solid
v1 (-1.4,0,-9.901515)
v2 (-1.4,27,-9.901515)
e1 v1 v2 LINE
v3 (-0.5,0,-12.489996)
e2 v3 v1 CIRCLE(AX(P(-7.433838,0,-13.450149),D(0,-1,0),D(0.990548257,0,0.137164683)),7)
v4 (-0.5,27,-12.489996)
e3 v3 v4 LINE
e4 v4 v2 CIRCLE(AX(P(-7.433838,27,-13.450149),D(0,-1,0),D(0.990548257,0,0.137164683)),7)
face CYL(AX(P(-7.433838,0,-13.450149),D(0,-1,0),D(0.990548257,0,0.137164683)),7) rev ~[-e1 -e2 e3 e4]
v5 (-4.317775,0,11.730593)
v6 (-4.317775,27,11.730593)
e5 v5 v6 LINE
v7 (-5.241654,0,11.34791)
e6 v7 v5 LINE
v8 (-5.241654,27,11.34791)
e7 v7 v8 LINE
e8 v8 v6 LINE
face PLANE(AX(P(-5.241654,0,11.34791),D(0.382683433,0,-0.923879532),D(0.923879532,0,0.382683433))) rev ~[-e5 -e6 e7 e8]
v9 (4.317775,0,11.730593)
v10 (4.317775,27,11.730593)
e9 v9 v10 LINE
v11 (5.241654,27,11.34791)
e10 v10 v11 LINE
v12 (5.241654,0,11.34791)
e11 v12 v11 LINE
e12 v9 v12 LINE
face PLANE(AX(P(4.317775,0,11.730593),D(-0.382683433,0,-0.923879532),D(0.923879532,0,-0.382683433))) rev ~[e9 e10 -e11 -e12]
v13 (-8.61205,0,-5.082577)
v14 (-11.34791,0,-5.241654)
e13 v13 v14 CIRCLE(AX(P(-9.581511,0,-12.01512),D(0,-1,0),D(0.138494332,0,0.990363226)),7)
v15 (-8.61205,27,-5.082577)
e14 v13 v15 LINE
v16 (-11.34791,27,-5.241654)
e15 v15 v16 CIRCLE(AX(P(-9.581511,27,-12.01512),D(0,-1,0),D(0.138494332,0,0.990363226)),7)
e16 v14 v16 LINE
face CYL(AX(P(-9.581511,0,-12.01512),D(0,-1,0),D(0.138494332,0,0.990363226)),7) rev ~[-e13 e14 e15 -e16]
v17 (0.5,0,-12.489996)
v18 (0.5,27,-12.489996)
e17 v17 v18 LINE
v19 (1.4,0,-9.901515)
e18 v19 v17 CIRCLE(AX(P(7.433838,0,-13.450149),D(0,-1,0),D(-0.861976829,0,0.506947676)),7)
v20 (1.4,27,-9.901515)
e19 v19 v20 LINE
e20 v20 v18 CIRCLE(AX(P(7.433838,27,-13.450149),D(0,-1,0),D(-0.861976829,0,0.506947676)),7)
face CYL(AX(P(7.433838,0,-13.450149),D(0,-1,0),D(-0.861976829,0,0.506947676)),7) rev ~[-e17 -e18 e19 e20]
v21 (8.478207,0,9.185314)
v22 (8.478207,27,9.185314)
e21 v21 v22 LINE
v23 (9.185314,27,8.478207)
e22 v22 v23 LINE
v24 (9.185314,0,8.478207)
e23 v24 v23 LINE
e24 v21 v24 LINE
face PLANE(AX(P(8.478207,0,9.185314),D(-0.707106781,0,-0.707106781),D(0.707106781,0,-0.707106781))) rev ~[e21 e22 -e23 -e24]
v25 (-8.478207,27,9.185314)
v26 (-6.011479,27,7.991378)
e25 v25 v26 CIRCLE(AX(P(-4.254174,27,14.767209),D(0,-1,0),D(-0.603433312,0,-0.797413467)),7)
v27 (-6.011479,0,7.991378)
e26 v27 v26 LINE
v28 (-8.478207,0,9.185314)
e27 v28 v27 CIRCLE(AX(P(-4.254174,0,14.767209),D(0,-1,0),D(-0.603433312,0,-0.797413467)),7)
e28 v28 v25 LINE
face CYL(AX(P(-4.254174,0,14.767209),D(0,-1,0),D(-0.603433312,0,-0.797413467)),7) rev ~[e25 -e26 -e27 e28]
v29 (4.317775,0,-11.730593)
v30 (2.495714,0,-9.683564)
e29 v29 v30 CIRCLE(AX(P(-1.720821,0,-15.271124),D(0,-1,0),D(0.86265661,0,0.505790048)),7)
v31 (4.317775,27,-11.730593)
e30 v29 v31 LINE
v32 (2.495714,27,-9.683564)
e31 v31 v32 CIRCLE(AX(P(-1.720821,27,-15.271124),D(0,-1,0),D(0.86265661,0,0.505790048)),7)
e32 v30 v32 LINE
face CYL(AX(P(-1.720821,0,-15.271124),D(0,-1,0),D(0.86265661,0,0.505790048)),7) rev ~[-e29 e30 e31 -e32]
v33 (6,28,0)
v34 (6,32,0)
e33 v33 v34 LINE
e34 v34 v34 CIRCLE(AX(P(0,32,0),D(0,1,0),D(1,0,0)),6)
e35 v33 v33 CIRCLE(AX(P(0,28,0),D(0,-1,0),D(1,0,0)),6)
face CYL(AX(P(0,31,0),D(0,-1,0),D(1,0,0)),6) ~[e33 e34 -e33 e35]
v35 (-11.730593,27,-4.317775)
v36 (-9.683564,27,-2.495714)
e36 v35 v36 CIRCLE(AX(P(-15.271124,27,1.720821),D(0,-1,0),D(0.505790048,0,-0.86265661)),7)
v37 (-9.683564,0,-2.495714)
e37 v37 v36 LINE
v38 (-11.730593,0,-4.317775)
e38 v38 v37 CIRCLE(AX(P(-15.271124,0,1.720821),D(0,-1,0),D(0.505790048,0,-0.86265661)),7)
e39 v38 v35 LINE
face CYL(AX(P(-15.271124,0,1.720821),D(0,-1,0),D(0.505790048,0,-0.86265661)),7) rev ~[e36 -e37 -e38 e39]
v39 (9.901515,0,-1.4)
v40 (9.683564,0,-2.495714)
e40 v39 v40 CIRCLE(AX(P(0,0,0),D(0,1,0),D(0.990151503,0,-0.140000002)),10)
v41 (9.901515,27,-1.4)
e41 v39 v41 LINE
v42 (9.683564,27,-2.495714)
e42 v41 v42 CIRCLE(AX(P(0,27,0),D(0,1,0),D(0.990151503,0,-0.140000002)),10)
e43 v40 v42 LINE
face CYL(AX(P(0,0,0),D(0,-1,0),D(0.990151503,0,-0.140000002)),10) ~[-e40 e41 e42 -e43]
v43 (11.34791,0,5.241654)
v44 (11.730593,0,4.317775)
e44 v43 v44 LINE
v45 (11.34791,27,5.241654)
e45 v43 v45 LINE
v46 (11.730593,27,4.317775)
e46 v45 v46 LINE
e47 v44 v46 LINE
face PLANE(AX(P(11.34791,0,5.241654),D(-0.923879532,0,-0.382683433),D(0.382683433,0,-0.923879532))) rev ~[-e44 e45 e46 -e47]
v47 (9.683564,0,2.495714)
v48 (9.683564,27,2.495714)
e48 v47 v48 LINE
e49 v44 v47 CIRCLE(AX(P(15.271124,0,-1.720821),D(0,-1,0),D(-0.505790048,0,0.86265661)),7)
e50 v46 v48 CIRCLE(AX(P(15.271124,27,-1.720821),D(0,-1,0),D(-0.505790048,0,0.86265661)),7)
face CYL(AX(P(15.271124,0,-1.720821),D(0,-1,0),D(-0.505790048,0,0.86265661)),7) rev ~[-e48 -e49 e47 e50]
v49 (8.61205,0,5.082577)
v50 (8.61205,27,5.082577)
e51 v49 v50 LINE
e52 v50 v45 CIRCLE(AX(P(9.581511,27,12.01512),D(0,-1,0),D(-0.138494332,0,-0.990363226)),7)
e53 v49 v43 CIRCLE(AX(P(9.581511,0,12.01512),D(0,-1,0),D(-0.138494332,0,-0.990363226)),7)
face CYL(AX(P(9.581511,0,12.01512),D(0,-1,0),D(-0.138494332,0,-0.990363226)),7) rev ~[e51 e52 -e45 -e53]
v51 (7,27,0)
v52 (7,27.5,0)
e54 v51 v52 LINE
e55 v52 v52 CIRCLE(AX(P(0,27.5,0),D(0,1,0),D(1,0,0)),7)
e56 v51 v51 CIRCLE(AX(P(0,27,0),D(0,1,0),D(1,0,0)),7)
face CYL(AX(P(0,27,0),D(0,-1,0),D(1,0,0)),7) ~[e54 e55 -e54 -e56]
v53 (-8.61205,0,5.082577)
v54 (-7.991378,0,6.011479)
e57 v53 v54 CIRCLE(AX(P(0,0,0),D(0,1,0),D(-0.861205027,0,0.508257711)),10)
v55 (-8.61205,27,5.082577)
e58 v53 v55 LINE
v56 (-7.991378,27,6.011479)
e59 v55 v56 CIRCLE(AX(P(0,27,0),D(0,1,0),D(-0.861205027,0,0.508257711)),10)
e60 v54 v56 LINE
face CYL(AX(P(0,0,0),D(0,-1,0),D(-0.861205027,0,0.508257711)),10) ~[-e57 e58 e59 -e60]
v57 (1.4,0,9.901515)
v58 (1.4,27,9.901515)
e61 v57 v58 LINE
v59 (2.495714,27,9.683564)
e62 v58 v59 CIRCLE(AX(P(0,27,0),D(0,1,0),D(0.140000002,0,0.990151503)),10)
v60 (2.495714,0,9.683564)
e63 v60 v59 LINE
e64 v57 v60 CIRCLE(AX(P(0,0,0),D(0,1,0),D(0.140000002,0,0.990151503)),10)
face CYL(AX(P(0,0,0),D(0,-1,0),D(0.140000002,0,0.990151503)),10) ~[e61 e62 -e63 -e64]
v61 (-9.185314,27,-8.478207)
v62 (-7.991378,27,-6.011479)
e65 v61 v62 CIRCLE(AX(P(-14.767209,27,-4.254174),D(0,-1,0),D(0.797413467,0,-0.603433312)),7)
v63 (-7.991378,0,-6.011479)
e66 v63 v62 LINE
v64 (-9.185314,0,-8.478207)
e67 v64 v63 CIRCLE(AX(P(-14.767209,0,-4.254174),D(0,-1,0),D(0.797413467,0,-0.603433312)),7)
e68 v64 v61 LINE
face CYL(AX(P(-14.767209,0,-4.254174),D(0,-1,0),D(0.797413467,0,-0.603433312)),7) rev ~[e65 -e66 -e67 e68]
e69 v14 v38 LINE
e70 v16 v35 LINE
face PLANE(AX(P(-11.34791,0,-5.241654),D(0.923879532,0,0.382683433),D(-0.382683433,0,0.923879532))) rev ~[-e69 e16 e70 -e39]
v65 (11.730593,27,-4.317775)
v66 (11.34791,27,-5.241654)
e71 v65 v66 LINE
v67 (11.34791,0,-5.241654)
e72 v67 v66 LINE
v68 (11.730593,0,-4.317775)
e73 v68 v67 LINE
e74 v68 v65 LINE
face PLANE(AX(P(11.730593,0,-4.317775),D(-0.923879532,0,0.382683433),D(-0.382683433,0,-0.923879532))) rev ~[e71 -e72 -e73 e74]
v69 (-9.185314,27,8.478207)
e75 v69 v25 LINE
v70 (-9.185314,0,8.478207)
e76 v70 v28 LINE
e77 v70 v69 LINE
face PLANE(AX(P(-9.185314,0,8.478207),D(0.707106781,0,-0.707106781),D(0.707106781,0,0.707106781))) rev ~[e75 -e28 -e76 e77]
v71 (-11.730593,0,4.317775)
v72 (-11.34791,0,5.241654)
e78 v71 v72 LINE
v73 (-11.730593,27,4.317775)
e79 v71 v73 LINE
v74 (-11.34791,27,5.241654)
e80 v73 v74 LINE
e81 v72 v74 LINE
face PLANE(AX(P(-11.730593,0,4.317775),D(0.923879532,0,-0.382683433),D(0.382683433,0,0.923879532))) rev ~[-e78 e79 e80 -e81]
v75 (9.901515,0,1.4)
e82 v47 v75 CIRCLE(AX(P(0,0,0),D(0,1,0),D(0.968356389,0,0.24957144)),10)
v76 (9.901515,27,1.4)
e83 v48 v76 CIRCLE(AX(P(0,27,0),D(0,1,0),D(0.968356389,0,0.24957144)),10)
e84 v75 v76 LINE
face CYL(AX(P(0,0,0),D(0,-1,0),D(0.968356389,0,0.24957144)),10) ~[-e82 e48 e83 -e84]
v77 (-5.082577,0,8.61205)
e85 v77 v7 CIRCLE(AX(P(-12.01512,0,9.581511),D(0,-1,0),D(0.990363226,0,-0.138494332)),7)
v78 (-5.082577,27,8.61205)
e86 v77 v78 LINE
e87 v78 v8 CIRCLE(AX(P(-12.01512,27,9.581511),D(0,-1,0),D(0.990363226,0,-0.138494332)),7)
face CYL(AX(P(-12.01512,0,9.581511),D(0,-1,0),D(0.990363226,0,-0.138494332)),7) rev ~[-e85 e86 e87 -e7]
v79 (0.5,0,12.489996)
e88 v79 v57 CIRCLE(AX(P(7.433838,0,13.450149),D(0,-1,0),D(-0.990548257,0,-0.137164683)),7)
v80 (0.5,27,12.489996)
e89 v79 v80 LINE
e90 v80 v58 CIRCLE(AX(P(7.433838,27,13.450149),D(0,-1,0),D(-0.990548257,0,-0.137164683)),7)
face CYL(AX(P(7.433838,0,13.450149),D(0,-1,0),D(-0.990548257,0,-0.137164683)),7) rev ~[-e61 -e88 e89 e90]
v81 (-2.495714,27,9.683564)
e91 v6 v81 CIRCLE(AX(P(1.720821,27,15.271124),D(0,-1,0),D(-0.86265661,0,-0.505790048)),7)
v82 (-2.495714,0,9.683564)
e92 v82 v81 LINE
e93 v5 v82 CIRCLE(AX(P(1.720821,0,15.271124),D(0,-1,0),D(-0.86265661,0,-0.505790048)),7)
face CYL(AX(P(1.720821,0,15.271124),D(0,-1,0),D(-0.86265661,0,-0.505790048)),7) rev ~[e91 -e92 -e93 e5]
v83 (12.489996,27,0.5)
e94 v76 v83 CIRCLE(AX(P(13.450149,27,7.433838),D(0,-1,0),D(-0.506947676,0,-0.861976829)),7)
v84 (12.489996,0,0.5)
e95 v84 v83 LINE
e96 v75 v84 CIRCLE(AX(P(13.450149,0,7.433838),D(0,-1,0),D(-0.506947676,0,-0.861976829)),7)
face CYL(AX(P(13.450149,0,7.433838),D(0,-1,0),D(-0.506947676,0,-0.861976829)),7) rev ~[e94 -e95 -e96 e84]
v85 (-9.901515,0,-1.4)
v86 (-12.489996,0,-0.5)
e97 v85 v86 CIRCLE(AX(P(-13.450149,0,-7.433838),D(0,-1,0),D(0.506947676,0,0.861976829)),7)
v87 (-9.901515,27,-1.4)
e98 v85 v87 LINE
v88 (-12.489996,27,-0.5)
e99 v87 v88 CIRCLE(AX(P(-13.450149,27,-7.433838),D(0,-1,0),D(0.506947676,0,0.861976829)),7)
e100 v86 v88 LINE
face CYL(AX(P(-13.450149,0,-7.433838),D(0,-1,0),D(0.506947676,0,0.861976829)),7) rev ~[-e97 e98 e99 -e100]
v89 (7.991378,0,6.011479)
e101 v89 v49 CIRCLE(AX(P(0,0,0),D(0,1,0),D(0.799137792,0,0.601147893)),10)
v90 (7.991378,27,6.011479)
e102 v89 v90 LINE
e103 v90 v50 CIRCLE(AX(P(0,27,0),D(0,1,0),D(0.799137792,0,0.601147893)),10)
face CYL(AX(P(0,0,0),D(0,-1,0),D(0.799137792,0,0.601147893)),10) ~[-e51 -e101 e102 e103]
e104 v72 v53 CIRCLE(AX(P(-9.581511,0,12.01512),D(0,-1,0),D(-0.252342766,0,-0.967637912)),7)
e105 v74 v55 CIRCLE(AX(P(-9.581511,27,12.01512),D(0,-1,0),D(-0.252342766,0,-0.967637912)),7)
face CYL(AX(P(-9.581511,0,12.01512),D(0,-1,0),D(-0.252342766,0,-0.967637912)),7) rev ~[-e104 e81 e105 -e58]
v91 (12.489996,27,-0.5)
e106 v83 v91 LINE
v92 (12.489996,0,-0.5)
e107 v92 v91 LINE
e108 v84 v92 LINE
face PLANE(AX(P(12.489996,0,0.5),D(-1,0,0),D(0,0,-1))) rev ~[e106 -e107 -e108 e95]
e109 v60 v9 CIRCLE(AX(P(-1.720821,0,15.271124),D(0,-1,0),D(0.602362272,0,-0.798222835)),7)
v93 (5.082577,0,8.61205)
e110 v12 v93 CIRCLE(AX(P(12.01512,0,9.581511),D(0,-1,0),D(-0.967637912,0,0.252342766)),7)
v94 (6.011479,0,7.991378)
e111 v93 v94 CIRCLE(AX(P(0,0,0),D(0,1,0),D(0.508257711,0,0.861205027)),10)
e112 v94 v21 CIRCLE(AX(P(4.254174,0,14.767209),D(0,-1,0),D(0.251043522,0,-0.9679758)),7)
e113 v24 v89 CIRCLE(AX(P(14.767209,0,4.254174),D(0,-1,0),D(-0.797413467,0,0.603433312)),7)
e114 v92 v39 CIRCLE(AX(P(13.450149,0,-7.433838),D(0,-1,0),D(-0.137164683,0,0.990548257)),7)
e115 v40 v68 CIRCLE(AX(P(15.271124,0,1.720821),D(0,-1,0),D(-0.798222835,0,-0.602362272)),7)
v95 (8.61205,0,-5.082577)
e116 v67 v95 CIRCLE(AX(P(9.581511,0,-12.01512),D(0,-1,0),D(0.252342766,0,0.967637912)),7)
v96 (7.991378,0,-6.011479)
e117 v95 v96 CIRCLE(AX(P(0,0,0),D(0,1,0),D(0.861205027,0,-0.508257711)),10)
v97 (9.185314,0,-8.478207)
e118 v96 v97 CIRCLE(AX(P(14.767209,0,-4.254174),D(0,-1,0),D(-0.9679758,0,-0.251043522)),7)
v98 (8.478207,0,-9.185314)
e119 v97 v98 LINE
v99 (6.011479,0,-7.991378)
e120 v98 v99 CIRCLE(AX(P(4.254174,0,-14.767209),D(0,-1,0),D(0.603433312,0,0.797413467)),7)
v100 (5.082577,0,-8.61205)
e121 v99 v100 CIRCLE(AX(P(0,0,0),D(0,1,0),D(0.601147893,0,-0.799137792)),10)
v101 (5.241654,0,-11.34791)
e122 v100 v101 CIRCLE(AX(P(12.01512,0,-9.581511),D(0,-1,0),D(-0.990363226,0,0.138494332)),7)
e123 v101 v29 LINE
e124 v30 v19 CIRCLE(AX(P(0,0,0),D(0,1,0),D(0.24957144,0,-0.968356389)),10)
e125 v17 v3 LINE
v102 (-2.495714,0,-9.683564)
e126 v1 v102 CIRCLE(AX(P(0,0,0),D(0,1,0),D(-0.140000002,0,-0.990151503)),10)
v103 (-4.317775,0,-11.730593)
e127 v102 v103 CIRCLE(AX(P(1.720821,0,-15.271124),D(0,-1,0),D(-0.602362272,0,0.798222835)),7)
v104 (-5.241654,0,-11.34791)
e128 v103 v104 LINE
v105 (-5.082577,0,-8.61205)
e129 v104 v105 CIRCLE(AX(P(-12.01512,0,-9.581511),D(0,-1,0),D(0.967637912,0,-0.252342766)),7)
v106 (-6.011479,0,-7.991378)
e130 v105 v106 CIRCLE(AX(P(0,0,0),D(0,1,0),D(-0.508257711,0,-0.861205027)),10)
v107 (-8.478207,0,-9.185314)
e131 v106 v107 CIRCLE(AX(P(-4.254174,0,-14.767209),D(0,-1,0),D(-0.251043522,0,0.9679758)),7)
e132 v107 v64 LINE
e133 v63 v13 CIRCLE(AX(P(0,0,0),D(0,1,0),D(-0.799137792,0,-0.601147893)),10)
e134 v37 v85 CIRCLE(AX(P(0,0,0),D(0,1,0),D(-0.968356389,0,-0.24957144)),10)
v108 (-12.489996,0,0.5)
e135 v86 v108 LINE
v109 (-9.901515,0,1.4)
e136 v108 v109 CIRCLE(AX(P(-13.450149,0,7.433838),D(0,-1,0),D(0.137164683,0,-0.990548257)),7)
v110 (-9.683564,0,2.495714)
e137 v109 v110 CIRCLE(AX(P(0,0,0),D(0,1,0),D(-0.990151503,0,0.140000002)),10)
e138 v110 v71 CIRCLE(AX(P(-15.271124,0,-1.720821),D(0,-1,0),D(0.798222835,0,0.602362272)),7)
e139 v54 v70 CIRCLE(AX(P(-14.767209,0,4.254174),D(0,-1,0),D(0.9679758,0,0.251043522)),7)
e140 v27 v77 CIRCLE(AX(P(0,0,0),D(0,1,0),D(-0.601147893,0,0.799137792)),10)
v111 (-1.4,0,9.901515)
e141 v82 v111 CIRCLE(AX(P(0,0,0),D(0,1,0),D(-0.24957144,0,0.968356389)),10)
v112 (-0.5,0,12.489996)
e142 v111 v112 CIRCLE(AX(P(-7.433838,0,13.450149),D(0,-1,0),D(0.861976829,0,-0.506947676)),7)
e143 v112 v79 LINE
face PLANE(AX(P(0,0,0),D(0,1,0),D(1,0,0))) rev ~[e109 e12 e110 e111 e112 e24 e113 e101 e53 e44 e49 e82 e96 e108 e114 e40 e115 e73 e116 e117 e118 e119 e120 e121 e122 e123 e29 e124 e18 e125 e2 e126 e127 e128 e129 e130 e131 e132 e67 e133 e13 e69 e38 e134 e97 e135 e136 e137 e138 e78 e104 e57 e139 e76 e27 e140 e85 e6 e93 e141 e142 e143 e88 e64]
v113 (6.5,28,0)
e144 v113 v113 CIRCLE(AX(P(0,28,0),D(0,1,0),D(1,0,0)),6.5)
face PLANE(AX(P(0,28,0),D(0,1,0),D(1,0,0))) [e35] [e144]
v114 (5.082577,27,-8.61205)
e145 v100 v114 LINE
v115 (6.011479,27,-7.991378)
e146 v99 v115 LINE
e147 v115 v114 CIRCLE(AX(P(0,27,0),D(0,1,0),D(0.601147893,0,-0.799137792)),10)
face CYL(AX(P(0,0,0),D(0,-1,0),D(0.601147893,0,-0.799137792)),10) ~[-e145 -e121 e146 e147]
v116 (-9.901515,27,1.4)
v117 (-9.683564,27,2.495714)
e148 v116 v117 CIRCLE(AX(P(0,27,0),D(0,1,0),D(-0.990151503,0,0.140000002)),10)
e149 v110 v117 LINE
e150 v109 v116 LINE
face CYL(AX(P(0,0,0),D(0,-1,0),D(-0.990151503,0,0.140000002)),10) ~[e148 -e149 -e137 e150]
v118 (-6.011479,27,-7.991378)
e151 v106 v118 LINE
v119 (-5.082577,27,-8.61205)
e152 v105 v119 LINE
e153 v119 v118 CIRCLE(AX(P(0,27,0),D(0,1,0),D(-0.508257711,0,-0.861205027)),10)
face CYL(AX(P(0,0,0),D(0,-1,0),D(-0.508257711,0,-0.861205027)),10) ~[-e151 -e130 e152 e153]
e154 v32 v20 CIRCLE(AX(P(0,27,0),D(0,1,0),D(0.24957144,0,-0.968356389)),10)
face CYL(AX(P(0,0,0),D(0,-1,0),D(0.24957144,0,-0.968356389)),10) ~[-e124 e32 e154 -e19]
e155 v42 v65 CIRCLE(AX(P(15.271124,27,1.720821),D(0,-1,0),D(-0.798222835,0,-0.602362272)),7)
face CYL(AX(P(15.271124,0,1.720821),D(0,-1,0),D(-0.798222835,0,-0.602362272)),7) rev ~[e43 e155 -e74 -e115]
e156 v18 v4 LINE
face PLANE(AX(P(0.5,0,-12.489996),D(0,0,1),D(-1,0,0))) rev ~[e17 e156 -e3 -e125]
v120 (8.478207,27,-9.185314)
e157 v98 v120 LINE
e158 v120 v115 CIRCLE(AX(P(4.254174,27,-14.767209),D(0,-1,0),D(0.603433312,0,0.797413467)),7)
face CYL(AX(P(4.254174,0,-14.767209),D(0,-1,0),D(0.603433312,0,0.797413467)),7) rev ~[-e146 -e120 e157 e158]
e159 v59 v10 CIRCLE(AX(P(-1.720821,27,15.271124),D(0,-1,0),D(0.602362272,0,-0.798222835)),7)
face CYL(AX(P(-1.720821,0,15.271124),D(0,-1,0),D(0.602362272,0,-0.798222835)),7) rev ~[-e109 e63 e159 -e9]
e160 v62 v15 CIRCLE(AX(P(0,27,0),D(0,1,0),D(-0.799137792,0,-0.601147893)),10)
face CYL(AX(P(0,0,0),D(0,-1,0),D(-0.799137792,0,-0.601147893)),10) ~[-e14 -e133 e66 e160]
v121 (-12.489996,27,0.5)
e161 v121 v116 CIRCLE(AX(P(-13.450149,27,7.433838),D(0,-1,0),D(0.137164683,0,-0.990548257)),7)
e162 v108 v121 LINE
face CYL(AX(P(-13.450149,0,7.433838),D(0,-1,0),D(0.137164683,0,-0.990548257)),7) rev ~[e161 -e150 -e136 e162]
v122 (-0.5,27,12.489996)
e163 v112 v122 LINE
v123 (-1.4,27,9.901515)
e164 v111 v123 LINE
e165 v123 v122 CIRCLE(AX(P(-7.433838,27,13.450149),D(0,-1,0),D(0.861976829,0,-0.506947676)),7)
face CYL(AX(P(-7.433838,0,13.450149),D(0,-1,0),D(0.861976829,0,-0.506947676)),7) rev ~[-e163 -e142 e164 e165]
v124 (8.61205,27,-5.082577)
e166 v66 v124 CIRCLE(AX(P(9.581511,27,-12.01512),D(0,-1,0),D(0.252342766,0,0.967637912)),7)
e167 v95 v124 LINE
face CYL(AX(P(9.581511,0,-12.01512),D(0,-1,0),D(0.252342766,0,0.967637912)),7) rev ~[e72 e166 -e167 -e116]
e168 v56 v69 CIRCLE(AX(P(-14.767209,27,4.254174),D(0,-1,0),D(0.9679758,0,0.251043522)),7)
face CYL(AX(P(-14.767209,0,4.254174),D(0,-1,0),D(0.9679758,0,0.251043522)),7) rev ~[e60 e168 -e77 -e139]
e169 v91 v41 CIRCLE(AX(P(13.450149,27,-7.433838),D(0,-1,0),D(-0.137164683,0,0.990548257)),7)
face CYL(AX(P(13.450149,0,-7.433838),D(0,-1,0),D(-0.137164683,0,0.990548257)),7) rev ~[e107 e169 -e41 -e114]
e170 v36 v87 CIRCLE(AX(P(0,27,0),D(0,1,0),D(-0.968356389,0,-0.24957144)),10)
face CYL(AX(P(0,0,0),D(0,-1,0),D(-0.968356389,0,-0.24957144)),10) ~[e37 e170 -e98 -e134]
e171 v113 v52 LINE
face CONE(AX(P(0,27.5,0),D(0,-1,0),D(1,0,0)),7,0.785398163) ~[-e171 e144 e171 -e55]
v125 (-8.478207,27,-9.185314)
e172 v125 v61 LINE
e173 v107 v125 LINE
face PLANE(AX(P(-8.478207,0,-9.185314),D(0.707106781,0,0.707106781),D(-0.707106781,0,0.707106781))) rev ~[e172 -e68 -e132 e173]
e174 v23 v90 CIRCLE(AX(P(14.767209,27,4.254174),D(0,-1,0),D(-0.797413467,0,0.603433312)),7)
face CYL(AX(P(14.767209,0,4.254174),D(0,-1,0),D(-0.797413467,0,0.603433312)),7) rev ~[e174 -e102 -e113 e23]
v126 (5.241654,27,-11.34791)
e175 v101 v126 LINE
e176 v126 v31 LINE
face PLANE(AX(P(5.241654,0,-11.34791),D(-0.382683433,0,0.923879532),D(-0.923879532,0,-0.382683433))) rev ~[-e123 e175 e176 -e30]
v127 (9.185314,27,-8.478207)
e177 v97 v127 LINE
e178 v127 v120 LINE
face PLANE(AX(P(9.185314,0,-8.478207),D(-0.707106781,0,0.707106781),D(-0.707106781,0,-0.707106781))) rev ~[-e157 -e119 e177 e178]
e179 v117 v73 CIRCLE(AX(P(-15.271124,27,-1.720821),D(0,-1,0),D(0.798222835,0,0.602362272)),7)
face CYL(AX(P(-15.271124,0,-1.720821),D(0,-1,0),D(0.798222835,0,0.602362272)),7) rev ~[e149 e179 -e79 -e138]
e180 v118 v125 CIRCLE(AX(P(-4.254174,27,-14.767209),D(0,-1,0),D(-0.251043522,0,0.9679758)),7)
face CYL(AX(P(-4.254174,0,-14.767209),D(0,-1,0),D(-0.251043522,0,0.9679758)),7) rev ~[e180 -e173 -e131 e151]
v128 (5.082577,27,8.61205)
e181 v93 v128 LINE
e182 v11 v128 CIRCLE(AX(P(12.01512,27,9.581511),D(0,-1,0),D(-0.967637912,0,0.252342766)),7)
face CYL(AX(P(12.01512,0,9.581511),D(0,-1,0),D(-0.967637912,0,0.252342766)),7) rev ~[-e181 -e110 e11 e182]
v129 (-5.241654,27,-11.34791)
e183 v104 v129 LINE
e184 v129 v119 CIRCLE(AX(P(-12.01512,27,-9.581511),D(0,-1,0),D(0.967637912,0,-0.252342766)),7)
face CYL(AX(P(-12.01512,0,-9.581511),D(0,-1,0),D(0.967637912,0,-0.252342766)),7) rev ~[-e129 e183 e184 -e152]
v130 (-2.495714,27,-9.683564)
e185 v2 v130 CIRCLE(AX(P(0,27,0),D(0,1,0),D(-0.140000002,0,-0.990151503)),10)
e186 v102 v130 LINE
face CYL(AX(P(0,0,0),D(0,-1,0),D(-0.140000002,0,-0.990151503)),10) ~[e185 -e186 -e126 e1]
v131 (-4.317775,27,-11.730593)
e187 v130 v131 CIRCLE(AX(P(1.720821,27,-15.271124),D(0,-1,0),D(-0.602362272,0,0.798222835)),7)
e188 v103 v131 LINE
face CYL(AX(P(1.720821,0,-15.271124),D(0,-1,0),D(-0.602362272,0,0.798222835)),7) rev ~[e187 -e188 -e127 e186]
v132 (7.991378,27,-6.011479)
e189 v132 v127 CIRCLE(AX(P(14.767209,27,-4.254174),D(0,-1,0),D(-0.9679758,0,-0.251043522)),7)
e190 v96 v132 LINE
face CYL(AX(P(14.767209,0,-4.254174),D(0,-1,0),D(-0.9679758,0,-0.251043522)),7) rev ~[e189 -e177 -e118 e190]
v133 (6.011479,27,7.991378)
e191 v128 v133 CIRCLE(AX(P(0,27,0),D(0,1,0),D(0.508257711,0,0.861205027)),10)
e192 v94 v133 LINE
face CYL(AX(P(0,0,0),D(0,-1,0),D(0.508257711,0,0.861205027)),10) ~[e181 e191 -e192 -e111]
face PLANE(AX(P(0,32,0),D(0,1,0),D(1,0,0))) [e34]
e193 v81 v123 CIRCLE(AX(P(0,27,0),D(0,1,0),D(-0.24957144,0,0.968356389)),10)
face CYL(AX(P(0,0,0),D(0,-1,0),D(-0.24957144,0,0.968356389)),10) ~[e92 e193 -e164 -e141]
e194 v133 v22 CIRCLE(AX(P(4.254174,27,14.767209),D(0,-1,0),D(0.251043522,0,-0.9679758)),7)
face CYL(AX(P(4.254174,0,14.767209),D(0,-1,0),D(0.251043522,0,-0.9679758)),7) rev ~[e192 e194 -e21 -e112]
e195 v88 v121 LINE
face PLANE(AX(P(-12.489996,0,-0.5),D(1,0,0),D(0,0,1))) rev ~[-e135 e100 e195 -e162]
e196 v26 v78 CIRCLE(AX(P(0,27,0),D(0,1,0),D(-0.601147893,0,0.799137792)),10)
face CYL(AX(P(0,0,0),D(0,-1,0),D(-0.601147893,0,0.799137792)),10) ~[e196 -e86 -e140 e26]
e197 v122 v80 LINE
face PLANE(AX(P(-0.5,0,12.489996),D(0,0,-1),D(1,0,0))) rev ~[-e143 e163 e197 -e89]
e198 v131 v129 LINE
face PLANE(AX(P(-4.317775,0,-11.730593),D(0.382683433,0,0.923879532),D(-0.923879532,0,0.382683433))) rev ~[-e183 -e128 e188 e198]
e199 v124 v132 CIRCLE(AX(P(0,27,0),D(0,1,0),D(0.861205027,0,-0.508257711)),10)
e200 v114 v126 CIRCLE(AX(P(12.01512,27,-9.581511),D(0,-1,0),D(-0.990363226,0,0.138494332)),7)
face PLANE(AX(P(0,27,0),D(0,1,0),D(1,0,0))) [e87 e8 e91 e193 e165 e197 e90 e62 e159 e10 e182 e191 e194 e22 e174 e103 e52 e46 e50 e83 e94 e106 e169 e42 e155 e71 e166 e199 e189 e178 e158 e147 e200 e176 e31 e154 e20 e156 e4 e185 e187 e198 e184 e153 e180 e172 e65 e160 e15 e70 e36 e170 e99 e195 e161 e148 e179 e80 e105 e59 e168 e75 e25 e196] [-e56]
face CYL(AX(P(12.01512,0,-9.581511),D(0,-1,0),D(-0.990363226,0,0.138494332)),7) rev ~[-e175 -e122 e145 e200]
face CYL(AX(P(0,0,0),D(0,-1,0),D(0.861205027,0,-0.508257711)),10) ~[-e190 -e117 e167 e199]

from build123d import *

# Parameters (mm, degrees)
BOSS_EXTRUDE1_DEPTH = 27
SKETCH2_R           = 6
BOSS_EXTRUDE2_DEPTH = 4
SKETCH4_R           = 7
BOSS_EXTRUDE3_DEPTH = 1
SKETCH5_R           = 6
BOSS_EXTRUDE4_DEPTH = 1
CHAMFER1_SIZE       = 0.5


with BuildPart() as part:
    # Sketch1 → Boss-Extrude1 (new body)
    with BuildSketch(Plane(origin=(0, 0, 0), x_dir=(1, 0, 0), z_dir=(0, 1, 0))):
        with BuildLine():
            Line((0.5, 12.489995997), (-0.5, 12.489995997))
            ThreePointArc((-0.5, 12.489995997), (-0.822089844, 11.151281888), (-1.4, 9.901515036))
            ThreePointArc((-1.4, 9.901515036), (-1.95090322, 9.807852804), (-2.495714414, 9.683563888))
            ThreePointArc((-2.495714414, 9.683563888), (-3.507898848, 10.61704126), (-4.317774772, 11.730593379))
            Line((-4.317774772, 11.730593379), (-5.241654305, 11.347909946))
            ThreePointArc((-5.241654305, 11.347909946), (-5.026922808, 9.987840934), (-5.082577105, 8.612050277))
            ThreePointArc((-5.082577105, 8.612050277), (-5.55570233, 8.314696123), (-6.011478932, 7.991377919))
            ThreePointArc((-6.011478932, 7.991377919), (-7.303841738, 8.466452345), (-8.478207476, 9.185314257))
            Line((-8.478207476, 9.185314257), (-9.185314257, 8.478207476))
            ThreePointArc((-9.185314257, 8.478207476), (-8.466452345, 7.303841738), (-7.991377919, 6.011478932))
            ThreePointArc((-7.991377919, 6.011478932), (-8.314696123, 5.55570233), (-8.612050277, 5.082577105))
            ThreePointArc((-8.612050277, 5.082577105), (-9.987840934, 5.026922808), (-11.347909946, 5.241654305))
            Line((-11.347909946, 5.241654305), (-11.730593379, 4.317774772))
            ThreePointArc((-11.730593379, 4.317774772), (-10.61704126, 3.507898848), (-9.683563888, 2.495714414))
            ThreePointArc((-9.683563888, 2.495714414), (-9.807852804, 1.95090322), (-9.901515036, 1.4))
            ThreePointArc((-9.901515036, 1.4), (-11.151281888, 0.822089844), (-12.489995997, 0.5))
            Line((-12.489995997, 0.5), (-12.489995997, -0.5))
            ThreePointArc((-12.489995997, -0.5), (-11.151281888, -0.822089844), (-9.901515036, -1.4))
            ThreePointArc((-9.901515036, -1.4), (-9.807852804, -1.95090322), (-9.683563888, -2.495714414))
            ThreePointArc((-9.683563888, -2.495714414), (-10.61704126, -3.507898848), (-11.730593379, -4.317774772))
            Line((-11.730593379, -4.317774772), (-11.347909946, -5.241654305))
            ThreePointArc((-11.347909946, -5.241654305), (-9.987840934, -5.026922808), (-8.612050277, -5.082577105))
            ThreePointArc((-8.612050277, -5.082577105), (-8.314696123, -5.55570233), (-7.991377919, -6.011478932))
            ThreePointArc((-7.991377919, -6.011478932), (-8.466452345, -7.303841738), (-9.185314257, -8.478207476))
            Line((-9.185314257, -8.478207476), (-8.478207476, -9.185314257))
            ThreePointArc((-8.478207476, -9.185314257), (-7.303841738, -8.466452345), (-6.011478932, -7.991377919))
            ThreePointArc((-6.011478932, -7.991377919), (-5.55570233, -8.314696123), (-5.082577105, -8.612050277))
            ThreePointArc((-5.082577105, -8.612050277), (-5.026922808, -9.987840934), (-5.241654305, -11.347909946))
            Line((-5.241654305, -11.347909946), (-4.317774772, -11.730593379))
            ThreePointArc((-4.317774772, -11.730593379), (-3.507898848, -10.61704126), (-2.495714414, -9.683563888))
            ThreePointArc((-2.495714414, -9.683563888), (-1.95090322, -9.807852804), (-1.4, -9.901515036))
            ThreePointArc((-1.4, -9.901515036), (-0.822089844, -11.151281888), (-0.5, -12.489995997))
            Line((-0.5, -12.489995997), (0.5, -12.489995997))
            ThreePointArc((0.5, -12.489995997), (0.822089844, -11.151281888), (1.4, -9.901515036))
            ThreePointArc((1.4, -9.901515036), (1.95090322, -9.807852804), (2.495714414, -9.683563888))
            ThreePointArc((2.495714414, -9.683563888), (3.507898848, -10.61704126), (4.317774772, -11.730593379))
            Line((4.317774772, -11.730593379), (5.241654305, -11.347909946))
            ThreePointArc((5.241654305, -11.347909946), (5.026922808, -9.987840934), (5.082577105, -8.612050277))
            ThreePointArc((5.082577105, -8.612050277), (5.55570233, -8.314696123), (6.011478932, -7.991377919))
            ThreePointArc((6.011478932, -7.991377919), (7.303841738, -8.466452345), (8.478207476, -9.185314257))
            Line((8.478207476, -9.185314257), (9.185314257, -8.478207476))
            ThreePointArc((9.185314257, -8.478207476), (8.466452345, -7.303841738), (7.991377919, -6.011478932))
            ThreePointArc((7.991377919, -6.011478932), (8.314696123, -5.55570233), (8.612050277, -5.082577105))
            ThreePointArc((8.612050277, -5.082577105), (9.987840934, -5.026922808), (11.347909946, -5.241654305))
            Line((11.347909946, -5.241654305), (11.730593379, -4.317774772))
            ThreePointArc((11.730593379, -4.317774772), (10.61704126, -3.507898848), (9.683563888, -2.495714414))
            ThreePointArc((9.683563888, -2.495714414), (9.807852804, -1.95090322), (9.901515036, -1.4))
            ThreePointArc((9.901515036, -1.4), (11.151281888, -0.822089844), (12.489995997, -0.5))
            Line((12.489995997, -0.5), (12.489995997, 0.5))
            ThreePointArc((12.489995997, 0.5), (11.151281888, 0.822089844), (9.901515036, 1.4))
            ThreePointArc((9.901515036, 1.4), (9.807852804, 1.95090322), (9.683563888, 2.495714414))
            ThreePointArc((9.683563888, 2.495714414), (10.61704126, 3.507898848), (11.730593379, 4.317774772))
            Line((11.730593379, 4.317774772), (11.347909946, 5.241654305))
            ThreePointArc((11.347909946, 5.241654305), (9.987840934, 5.026922808), (8.612050277, 5.082577105))
            ThreePointArc((8.612050277, 5.082577105), (8.314696123, 5.55570233), (7.991377919, 6.011478932))
            ThreePointArc((7.991377919, 6.011478932), (8.466452345, 7.303841738), (9.185314257, 8.478207476))
            Line((9.185314257, 8.478207476), (8.478207476, 9.185314257))
            ThreePointArc((8.478207476, 9.185314257), (7.303841738, 8.466452345), (6.011478932, 7.991377919))
            ThreePointArc((6.011478932, 7.991377919), (5.55570233, 8.314696123), (5.082577105, 8.612050277))
            ThreePointArc((5.082577105, 8.612050277), (5.026922808, 9.987840934), (5.241654305, 11.347909946))
            Line((5.241654305, 11.347909946), (4.317774772, 11.730593379))
            ThreePointArc((4.317774772, 11.730593379), (3.507898848, 10.61704126), (2.495714414, 9.683563888))
            ThreePointArc((2.495714414, 9.683563888), (1.95090322, 9.807852804), (1.4, 9.901515036))
            ThreePointArc((1.4, 9.901515036), (0.822089844, 11.151281888), (0.5, 12.489995997))
        make_face()
    extrude(amount=BOSS_EXTRUDE1_DEPTH)

    # Sketch2 → Boss-Extrude2 (add)
    with BuildSketch(Plane(origin=(0, 27, 0), x_dir=(1, 0, 0), z_dir=(0, 1, 0))):
        Circle(SKETCH2_R)
    extrude(amount=BOSS_EXTRUDE2_DEPTH)

    # Sketch4 → Boss-Extrude3 (add)
    with BuildSketch(Plane(origin=(0, 27, 0), x_dir=(1, 0, 0), z_dir=(0, 1, 0))):
        Circle(SKETCH4_R)
    extrude(amount=BOSS_EXTRUDE3_DEPTH)

    # Sketch5 → Boss-Extrude4 (add)
    with BuildSketch(Plane(origin=(0, 31, 0), x_dir=(1, 0, 0), z_dir=(0, 1, 0))):
        Circle(SKETCH5_R)
    extrude(amount=BOSS_EXTRUDE4_DEPTH)

    # Chamfer1
    chamfer1_edges = [part.edges().sort_by_distance(p)[0] for p in [
        (-7, 28, 0),
    ]]
    chamfer(chamfer1_edges, length=CHAMFER1_SIZE)


solid = part.part
